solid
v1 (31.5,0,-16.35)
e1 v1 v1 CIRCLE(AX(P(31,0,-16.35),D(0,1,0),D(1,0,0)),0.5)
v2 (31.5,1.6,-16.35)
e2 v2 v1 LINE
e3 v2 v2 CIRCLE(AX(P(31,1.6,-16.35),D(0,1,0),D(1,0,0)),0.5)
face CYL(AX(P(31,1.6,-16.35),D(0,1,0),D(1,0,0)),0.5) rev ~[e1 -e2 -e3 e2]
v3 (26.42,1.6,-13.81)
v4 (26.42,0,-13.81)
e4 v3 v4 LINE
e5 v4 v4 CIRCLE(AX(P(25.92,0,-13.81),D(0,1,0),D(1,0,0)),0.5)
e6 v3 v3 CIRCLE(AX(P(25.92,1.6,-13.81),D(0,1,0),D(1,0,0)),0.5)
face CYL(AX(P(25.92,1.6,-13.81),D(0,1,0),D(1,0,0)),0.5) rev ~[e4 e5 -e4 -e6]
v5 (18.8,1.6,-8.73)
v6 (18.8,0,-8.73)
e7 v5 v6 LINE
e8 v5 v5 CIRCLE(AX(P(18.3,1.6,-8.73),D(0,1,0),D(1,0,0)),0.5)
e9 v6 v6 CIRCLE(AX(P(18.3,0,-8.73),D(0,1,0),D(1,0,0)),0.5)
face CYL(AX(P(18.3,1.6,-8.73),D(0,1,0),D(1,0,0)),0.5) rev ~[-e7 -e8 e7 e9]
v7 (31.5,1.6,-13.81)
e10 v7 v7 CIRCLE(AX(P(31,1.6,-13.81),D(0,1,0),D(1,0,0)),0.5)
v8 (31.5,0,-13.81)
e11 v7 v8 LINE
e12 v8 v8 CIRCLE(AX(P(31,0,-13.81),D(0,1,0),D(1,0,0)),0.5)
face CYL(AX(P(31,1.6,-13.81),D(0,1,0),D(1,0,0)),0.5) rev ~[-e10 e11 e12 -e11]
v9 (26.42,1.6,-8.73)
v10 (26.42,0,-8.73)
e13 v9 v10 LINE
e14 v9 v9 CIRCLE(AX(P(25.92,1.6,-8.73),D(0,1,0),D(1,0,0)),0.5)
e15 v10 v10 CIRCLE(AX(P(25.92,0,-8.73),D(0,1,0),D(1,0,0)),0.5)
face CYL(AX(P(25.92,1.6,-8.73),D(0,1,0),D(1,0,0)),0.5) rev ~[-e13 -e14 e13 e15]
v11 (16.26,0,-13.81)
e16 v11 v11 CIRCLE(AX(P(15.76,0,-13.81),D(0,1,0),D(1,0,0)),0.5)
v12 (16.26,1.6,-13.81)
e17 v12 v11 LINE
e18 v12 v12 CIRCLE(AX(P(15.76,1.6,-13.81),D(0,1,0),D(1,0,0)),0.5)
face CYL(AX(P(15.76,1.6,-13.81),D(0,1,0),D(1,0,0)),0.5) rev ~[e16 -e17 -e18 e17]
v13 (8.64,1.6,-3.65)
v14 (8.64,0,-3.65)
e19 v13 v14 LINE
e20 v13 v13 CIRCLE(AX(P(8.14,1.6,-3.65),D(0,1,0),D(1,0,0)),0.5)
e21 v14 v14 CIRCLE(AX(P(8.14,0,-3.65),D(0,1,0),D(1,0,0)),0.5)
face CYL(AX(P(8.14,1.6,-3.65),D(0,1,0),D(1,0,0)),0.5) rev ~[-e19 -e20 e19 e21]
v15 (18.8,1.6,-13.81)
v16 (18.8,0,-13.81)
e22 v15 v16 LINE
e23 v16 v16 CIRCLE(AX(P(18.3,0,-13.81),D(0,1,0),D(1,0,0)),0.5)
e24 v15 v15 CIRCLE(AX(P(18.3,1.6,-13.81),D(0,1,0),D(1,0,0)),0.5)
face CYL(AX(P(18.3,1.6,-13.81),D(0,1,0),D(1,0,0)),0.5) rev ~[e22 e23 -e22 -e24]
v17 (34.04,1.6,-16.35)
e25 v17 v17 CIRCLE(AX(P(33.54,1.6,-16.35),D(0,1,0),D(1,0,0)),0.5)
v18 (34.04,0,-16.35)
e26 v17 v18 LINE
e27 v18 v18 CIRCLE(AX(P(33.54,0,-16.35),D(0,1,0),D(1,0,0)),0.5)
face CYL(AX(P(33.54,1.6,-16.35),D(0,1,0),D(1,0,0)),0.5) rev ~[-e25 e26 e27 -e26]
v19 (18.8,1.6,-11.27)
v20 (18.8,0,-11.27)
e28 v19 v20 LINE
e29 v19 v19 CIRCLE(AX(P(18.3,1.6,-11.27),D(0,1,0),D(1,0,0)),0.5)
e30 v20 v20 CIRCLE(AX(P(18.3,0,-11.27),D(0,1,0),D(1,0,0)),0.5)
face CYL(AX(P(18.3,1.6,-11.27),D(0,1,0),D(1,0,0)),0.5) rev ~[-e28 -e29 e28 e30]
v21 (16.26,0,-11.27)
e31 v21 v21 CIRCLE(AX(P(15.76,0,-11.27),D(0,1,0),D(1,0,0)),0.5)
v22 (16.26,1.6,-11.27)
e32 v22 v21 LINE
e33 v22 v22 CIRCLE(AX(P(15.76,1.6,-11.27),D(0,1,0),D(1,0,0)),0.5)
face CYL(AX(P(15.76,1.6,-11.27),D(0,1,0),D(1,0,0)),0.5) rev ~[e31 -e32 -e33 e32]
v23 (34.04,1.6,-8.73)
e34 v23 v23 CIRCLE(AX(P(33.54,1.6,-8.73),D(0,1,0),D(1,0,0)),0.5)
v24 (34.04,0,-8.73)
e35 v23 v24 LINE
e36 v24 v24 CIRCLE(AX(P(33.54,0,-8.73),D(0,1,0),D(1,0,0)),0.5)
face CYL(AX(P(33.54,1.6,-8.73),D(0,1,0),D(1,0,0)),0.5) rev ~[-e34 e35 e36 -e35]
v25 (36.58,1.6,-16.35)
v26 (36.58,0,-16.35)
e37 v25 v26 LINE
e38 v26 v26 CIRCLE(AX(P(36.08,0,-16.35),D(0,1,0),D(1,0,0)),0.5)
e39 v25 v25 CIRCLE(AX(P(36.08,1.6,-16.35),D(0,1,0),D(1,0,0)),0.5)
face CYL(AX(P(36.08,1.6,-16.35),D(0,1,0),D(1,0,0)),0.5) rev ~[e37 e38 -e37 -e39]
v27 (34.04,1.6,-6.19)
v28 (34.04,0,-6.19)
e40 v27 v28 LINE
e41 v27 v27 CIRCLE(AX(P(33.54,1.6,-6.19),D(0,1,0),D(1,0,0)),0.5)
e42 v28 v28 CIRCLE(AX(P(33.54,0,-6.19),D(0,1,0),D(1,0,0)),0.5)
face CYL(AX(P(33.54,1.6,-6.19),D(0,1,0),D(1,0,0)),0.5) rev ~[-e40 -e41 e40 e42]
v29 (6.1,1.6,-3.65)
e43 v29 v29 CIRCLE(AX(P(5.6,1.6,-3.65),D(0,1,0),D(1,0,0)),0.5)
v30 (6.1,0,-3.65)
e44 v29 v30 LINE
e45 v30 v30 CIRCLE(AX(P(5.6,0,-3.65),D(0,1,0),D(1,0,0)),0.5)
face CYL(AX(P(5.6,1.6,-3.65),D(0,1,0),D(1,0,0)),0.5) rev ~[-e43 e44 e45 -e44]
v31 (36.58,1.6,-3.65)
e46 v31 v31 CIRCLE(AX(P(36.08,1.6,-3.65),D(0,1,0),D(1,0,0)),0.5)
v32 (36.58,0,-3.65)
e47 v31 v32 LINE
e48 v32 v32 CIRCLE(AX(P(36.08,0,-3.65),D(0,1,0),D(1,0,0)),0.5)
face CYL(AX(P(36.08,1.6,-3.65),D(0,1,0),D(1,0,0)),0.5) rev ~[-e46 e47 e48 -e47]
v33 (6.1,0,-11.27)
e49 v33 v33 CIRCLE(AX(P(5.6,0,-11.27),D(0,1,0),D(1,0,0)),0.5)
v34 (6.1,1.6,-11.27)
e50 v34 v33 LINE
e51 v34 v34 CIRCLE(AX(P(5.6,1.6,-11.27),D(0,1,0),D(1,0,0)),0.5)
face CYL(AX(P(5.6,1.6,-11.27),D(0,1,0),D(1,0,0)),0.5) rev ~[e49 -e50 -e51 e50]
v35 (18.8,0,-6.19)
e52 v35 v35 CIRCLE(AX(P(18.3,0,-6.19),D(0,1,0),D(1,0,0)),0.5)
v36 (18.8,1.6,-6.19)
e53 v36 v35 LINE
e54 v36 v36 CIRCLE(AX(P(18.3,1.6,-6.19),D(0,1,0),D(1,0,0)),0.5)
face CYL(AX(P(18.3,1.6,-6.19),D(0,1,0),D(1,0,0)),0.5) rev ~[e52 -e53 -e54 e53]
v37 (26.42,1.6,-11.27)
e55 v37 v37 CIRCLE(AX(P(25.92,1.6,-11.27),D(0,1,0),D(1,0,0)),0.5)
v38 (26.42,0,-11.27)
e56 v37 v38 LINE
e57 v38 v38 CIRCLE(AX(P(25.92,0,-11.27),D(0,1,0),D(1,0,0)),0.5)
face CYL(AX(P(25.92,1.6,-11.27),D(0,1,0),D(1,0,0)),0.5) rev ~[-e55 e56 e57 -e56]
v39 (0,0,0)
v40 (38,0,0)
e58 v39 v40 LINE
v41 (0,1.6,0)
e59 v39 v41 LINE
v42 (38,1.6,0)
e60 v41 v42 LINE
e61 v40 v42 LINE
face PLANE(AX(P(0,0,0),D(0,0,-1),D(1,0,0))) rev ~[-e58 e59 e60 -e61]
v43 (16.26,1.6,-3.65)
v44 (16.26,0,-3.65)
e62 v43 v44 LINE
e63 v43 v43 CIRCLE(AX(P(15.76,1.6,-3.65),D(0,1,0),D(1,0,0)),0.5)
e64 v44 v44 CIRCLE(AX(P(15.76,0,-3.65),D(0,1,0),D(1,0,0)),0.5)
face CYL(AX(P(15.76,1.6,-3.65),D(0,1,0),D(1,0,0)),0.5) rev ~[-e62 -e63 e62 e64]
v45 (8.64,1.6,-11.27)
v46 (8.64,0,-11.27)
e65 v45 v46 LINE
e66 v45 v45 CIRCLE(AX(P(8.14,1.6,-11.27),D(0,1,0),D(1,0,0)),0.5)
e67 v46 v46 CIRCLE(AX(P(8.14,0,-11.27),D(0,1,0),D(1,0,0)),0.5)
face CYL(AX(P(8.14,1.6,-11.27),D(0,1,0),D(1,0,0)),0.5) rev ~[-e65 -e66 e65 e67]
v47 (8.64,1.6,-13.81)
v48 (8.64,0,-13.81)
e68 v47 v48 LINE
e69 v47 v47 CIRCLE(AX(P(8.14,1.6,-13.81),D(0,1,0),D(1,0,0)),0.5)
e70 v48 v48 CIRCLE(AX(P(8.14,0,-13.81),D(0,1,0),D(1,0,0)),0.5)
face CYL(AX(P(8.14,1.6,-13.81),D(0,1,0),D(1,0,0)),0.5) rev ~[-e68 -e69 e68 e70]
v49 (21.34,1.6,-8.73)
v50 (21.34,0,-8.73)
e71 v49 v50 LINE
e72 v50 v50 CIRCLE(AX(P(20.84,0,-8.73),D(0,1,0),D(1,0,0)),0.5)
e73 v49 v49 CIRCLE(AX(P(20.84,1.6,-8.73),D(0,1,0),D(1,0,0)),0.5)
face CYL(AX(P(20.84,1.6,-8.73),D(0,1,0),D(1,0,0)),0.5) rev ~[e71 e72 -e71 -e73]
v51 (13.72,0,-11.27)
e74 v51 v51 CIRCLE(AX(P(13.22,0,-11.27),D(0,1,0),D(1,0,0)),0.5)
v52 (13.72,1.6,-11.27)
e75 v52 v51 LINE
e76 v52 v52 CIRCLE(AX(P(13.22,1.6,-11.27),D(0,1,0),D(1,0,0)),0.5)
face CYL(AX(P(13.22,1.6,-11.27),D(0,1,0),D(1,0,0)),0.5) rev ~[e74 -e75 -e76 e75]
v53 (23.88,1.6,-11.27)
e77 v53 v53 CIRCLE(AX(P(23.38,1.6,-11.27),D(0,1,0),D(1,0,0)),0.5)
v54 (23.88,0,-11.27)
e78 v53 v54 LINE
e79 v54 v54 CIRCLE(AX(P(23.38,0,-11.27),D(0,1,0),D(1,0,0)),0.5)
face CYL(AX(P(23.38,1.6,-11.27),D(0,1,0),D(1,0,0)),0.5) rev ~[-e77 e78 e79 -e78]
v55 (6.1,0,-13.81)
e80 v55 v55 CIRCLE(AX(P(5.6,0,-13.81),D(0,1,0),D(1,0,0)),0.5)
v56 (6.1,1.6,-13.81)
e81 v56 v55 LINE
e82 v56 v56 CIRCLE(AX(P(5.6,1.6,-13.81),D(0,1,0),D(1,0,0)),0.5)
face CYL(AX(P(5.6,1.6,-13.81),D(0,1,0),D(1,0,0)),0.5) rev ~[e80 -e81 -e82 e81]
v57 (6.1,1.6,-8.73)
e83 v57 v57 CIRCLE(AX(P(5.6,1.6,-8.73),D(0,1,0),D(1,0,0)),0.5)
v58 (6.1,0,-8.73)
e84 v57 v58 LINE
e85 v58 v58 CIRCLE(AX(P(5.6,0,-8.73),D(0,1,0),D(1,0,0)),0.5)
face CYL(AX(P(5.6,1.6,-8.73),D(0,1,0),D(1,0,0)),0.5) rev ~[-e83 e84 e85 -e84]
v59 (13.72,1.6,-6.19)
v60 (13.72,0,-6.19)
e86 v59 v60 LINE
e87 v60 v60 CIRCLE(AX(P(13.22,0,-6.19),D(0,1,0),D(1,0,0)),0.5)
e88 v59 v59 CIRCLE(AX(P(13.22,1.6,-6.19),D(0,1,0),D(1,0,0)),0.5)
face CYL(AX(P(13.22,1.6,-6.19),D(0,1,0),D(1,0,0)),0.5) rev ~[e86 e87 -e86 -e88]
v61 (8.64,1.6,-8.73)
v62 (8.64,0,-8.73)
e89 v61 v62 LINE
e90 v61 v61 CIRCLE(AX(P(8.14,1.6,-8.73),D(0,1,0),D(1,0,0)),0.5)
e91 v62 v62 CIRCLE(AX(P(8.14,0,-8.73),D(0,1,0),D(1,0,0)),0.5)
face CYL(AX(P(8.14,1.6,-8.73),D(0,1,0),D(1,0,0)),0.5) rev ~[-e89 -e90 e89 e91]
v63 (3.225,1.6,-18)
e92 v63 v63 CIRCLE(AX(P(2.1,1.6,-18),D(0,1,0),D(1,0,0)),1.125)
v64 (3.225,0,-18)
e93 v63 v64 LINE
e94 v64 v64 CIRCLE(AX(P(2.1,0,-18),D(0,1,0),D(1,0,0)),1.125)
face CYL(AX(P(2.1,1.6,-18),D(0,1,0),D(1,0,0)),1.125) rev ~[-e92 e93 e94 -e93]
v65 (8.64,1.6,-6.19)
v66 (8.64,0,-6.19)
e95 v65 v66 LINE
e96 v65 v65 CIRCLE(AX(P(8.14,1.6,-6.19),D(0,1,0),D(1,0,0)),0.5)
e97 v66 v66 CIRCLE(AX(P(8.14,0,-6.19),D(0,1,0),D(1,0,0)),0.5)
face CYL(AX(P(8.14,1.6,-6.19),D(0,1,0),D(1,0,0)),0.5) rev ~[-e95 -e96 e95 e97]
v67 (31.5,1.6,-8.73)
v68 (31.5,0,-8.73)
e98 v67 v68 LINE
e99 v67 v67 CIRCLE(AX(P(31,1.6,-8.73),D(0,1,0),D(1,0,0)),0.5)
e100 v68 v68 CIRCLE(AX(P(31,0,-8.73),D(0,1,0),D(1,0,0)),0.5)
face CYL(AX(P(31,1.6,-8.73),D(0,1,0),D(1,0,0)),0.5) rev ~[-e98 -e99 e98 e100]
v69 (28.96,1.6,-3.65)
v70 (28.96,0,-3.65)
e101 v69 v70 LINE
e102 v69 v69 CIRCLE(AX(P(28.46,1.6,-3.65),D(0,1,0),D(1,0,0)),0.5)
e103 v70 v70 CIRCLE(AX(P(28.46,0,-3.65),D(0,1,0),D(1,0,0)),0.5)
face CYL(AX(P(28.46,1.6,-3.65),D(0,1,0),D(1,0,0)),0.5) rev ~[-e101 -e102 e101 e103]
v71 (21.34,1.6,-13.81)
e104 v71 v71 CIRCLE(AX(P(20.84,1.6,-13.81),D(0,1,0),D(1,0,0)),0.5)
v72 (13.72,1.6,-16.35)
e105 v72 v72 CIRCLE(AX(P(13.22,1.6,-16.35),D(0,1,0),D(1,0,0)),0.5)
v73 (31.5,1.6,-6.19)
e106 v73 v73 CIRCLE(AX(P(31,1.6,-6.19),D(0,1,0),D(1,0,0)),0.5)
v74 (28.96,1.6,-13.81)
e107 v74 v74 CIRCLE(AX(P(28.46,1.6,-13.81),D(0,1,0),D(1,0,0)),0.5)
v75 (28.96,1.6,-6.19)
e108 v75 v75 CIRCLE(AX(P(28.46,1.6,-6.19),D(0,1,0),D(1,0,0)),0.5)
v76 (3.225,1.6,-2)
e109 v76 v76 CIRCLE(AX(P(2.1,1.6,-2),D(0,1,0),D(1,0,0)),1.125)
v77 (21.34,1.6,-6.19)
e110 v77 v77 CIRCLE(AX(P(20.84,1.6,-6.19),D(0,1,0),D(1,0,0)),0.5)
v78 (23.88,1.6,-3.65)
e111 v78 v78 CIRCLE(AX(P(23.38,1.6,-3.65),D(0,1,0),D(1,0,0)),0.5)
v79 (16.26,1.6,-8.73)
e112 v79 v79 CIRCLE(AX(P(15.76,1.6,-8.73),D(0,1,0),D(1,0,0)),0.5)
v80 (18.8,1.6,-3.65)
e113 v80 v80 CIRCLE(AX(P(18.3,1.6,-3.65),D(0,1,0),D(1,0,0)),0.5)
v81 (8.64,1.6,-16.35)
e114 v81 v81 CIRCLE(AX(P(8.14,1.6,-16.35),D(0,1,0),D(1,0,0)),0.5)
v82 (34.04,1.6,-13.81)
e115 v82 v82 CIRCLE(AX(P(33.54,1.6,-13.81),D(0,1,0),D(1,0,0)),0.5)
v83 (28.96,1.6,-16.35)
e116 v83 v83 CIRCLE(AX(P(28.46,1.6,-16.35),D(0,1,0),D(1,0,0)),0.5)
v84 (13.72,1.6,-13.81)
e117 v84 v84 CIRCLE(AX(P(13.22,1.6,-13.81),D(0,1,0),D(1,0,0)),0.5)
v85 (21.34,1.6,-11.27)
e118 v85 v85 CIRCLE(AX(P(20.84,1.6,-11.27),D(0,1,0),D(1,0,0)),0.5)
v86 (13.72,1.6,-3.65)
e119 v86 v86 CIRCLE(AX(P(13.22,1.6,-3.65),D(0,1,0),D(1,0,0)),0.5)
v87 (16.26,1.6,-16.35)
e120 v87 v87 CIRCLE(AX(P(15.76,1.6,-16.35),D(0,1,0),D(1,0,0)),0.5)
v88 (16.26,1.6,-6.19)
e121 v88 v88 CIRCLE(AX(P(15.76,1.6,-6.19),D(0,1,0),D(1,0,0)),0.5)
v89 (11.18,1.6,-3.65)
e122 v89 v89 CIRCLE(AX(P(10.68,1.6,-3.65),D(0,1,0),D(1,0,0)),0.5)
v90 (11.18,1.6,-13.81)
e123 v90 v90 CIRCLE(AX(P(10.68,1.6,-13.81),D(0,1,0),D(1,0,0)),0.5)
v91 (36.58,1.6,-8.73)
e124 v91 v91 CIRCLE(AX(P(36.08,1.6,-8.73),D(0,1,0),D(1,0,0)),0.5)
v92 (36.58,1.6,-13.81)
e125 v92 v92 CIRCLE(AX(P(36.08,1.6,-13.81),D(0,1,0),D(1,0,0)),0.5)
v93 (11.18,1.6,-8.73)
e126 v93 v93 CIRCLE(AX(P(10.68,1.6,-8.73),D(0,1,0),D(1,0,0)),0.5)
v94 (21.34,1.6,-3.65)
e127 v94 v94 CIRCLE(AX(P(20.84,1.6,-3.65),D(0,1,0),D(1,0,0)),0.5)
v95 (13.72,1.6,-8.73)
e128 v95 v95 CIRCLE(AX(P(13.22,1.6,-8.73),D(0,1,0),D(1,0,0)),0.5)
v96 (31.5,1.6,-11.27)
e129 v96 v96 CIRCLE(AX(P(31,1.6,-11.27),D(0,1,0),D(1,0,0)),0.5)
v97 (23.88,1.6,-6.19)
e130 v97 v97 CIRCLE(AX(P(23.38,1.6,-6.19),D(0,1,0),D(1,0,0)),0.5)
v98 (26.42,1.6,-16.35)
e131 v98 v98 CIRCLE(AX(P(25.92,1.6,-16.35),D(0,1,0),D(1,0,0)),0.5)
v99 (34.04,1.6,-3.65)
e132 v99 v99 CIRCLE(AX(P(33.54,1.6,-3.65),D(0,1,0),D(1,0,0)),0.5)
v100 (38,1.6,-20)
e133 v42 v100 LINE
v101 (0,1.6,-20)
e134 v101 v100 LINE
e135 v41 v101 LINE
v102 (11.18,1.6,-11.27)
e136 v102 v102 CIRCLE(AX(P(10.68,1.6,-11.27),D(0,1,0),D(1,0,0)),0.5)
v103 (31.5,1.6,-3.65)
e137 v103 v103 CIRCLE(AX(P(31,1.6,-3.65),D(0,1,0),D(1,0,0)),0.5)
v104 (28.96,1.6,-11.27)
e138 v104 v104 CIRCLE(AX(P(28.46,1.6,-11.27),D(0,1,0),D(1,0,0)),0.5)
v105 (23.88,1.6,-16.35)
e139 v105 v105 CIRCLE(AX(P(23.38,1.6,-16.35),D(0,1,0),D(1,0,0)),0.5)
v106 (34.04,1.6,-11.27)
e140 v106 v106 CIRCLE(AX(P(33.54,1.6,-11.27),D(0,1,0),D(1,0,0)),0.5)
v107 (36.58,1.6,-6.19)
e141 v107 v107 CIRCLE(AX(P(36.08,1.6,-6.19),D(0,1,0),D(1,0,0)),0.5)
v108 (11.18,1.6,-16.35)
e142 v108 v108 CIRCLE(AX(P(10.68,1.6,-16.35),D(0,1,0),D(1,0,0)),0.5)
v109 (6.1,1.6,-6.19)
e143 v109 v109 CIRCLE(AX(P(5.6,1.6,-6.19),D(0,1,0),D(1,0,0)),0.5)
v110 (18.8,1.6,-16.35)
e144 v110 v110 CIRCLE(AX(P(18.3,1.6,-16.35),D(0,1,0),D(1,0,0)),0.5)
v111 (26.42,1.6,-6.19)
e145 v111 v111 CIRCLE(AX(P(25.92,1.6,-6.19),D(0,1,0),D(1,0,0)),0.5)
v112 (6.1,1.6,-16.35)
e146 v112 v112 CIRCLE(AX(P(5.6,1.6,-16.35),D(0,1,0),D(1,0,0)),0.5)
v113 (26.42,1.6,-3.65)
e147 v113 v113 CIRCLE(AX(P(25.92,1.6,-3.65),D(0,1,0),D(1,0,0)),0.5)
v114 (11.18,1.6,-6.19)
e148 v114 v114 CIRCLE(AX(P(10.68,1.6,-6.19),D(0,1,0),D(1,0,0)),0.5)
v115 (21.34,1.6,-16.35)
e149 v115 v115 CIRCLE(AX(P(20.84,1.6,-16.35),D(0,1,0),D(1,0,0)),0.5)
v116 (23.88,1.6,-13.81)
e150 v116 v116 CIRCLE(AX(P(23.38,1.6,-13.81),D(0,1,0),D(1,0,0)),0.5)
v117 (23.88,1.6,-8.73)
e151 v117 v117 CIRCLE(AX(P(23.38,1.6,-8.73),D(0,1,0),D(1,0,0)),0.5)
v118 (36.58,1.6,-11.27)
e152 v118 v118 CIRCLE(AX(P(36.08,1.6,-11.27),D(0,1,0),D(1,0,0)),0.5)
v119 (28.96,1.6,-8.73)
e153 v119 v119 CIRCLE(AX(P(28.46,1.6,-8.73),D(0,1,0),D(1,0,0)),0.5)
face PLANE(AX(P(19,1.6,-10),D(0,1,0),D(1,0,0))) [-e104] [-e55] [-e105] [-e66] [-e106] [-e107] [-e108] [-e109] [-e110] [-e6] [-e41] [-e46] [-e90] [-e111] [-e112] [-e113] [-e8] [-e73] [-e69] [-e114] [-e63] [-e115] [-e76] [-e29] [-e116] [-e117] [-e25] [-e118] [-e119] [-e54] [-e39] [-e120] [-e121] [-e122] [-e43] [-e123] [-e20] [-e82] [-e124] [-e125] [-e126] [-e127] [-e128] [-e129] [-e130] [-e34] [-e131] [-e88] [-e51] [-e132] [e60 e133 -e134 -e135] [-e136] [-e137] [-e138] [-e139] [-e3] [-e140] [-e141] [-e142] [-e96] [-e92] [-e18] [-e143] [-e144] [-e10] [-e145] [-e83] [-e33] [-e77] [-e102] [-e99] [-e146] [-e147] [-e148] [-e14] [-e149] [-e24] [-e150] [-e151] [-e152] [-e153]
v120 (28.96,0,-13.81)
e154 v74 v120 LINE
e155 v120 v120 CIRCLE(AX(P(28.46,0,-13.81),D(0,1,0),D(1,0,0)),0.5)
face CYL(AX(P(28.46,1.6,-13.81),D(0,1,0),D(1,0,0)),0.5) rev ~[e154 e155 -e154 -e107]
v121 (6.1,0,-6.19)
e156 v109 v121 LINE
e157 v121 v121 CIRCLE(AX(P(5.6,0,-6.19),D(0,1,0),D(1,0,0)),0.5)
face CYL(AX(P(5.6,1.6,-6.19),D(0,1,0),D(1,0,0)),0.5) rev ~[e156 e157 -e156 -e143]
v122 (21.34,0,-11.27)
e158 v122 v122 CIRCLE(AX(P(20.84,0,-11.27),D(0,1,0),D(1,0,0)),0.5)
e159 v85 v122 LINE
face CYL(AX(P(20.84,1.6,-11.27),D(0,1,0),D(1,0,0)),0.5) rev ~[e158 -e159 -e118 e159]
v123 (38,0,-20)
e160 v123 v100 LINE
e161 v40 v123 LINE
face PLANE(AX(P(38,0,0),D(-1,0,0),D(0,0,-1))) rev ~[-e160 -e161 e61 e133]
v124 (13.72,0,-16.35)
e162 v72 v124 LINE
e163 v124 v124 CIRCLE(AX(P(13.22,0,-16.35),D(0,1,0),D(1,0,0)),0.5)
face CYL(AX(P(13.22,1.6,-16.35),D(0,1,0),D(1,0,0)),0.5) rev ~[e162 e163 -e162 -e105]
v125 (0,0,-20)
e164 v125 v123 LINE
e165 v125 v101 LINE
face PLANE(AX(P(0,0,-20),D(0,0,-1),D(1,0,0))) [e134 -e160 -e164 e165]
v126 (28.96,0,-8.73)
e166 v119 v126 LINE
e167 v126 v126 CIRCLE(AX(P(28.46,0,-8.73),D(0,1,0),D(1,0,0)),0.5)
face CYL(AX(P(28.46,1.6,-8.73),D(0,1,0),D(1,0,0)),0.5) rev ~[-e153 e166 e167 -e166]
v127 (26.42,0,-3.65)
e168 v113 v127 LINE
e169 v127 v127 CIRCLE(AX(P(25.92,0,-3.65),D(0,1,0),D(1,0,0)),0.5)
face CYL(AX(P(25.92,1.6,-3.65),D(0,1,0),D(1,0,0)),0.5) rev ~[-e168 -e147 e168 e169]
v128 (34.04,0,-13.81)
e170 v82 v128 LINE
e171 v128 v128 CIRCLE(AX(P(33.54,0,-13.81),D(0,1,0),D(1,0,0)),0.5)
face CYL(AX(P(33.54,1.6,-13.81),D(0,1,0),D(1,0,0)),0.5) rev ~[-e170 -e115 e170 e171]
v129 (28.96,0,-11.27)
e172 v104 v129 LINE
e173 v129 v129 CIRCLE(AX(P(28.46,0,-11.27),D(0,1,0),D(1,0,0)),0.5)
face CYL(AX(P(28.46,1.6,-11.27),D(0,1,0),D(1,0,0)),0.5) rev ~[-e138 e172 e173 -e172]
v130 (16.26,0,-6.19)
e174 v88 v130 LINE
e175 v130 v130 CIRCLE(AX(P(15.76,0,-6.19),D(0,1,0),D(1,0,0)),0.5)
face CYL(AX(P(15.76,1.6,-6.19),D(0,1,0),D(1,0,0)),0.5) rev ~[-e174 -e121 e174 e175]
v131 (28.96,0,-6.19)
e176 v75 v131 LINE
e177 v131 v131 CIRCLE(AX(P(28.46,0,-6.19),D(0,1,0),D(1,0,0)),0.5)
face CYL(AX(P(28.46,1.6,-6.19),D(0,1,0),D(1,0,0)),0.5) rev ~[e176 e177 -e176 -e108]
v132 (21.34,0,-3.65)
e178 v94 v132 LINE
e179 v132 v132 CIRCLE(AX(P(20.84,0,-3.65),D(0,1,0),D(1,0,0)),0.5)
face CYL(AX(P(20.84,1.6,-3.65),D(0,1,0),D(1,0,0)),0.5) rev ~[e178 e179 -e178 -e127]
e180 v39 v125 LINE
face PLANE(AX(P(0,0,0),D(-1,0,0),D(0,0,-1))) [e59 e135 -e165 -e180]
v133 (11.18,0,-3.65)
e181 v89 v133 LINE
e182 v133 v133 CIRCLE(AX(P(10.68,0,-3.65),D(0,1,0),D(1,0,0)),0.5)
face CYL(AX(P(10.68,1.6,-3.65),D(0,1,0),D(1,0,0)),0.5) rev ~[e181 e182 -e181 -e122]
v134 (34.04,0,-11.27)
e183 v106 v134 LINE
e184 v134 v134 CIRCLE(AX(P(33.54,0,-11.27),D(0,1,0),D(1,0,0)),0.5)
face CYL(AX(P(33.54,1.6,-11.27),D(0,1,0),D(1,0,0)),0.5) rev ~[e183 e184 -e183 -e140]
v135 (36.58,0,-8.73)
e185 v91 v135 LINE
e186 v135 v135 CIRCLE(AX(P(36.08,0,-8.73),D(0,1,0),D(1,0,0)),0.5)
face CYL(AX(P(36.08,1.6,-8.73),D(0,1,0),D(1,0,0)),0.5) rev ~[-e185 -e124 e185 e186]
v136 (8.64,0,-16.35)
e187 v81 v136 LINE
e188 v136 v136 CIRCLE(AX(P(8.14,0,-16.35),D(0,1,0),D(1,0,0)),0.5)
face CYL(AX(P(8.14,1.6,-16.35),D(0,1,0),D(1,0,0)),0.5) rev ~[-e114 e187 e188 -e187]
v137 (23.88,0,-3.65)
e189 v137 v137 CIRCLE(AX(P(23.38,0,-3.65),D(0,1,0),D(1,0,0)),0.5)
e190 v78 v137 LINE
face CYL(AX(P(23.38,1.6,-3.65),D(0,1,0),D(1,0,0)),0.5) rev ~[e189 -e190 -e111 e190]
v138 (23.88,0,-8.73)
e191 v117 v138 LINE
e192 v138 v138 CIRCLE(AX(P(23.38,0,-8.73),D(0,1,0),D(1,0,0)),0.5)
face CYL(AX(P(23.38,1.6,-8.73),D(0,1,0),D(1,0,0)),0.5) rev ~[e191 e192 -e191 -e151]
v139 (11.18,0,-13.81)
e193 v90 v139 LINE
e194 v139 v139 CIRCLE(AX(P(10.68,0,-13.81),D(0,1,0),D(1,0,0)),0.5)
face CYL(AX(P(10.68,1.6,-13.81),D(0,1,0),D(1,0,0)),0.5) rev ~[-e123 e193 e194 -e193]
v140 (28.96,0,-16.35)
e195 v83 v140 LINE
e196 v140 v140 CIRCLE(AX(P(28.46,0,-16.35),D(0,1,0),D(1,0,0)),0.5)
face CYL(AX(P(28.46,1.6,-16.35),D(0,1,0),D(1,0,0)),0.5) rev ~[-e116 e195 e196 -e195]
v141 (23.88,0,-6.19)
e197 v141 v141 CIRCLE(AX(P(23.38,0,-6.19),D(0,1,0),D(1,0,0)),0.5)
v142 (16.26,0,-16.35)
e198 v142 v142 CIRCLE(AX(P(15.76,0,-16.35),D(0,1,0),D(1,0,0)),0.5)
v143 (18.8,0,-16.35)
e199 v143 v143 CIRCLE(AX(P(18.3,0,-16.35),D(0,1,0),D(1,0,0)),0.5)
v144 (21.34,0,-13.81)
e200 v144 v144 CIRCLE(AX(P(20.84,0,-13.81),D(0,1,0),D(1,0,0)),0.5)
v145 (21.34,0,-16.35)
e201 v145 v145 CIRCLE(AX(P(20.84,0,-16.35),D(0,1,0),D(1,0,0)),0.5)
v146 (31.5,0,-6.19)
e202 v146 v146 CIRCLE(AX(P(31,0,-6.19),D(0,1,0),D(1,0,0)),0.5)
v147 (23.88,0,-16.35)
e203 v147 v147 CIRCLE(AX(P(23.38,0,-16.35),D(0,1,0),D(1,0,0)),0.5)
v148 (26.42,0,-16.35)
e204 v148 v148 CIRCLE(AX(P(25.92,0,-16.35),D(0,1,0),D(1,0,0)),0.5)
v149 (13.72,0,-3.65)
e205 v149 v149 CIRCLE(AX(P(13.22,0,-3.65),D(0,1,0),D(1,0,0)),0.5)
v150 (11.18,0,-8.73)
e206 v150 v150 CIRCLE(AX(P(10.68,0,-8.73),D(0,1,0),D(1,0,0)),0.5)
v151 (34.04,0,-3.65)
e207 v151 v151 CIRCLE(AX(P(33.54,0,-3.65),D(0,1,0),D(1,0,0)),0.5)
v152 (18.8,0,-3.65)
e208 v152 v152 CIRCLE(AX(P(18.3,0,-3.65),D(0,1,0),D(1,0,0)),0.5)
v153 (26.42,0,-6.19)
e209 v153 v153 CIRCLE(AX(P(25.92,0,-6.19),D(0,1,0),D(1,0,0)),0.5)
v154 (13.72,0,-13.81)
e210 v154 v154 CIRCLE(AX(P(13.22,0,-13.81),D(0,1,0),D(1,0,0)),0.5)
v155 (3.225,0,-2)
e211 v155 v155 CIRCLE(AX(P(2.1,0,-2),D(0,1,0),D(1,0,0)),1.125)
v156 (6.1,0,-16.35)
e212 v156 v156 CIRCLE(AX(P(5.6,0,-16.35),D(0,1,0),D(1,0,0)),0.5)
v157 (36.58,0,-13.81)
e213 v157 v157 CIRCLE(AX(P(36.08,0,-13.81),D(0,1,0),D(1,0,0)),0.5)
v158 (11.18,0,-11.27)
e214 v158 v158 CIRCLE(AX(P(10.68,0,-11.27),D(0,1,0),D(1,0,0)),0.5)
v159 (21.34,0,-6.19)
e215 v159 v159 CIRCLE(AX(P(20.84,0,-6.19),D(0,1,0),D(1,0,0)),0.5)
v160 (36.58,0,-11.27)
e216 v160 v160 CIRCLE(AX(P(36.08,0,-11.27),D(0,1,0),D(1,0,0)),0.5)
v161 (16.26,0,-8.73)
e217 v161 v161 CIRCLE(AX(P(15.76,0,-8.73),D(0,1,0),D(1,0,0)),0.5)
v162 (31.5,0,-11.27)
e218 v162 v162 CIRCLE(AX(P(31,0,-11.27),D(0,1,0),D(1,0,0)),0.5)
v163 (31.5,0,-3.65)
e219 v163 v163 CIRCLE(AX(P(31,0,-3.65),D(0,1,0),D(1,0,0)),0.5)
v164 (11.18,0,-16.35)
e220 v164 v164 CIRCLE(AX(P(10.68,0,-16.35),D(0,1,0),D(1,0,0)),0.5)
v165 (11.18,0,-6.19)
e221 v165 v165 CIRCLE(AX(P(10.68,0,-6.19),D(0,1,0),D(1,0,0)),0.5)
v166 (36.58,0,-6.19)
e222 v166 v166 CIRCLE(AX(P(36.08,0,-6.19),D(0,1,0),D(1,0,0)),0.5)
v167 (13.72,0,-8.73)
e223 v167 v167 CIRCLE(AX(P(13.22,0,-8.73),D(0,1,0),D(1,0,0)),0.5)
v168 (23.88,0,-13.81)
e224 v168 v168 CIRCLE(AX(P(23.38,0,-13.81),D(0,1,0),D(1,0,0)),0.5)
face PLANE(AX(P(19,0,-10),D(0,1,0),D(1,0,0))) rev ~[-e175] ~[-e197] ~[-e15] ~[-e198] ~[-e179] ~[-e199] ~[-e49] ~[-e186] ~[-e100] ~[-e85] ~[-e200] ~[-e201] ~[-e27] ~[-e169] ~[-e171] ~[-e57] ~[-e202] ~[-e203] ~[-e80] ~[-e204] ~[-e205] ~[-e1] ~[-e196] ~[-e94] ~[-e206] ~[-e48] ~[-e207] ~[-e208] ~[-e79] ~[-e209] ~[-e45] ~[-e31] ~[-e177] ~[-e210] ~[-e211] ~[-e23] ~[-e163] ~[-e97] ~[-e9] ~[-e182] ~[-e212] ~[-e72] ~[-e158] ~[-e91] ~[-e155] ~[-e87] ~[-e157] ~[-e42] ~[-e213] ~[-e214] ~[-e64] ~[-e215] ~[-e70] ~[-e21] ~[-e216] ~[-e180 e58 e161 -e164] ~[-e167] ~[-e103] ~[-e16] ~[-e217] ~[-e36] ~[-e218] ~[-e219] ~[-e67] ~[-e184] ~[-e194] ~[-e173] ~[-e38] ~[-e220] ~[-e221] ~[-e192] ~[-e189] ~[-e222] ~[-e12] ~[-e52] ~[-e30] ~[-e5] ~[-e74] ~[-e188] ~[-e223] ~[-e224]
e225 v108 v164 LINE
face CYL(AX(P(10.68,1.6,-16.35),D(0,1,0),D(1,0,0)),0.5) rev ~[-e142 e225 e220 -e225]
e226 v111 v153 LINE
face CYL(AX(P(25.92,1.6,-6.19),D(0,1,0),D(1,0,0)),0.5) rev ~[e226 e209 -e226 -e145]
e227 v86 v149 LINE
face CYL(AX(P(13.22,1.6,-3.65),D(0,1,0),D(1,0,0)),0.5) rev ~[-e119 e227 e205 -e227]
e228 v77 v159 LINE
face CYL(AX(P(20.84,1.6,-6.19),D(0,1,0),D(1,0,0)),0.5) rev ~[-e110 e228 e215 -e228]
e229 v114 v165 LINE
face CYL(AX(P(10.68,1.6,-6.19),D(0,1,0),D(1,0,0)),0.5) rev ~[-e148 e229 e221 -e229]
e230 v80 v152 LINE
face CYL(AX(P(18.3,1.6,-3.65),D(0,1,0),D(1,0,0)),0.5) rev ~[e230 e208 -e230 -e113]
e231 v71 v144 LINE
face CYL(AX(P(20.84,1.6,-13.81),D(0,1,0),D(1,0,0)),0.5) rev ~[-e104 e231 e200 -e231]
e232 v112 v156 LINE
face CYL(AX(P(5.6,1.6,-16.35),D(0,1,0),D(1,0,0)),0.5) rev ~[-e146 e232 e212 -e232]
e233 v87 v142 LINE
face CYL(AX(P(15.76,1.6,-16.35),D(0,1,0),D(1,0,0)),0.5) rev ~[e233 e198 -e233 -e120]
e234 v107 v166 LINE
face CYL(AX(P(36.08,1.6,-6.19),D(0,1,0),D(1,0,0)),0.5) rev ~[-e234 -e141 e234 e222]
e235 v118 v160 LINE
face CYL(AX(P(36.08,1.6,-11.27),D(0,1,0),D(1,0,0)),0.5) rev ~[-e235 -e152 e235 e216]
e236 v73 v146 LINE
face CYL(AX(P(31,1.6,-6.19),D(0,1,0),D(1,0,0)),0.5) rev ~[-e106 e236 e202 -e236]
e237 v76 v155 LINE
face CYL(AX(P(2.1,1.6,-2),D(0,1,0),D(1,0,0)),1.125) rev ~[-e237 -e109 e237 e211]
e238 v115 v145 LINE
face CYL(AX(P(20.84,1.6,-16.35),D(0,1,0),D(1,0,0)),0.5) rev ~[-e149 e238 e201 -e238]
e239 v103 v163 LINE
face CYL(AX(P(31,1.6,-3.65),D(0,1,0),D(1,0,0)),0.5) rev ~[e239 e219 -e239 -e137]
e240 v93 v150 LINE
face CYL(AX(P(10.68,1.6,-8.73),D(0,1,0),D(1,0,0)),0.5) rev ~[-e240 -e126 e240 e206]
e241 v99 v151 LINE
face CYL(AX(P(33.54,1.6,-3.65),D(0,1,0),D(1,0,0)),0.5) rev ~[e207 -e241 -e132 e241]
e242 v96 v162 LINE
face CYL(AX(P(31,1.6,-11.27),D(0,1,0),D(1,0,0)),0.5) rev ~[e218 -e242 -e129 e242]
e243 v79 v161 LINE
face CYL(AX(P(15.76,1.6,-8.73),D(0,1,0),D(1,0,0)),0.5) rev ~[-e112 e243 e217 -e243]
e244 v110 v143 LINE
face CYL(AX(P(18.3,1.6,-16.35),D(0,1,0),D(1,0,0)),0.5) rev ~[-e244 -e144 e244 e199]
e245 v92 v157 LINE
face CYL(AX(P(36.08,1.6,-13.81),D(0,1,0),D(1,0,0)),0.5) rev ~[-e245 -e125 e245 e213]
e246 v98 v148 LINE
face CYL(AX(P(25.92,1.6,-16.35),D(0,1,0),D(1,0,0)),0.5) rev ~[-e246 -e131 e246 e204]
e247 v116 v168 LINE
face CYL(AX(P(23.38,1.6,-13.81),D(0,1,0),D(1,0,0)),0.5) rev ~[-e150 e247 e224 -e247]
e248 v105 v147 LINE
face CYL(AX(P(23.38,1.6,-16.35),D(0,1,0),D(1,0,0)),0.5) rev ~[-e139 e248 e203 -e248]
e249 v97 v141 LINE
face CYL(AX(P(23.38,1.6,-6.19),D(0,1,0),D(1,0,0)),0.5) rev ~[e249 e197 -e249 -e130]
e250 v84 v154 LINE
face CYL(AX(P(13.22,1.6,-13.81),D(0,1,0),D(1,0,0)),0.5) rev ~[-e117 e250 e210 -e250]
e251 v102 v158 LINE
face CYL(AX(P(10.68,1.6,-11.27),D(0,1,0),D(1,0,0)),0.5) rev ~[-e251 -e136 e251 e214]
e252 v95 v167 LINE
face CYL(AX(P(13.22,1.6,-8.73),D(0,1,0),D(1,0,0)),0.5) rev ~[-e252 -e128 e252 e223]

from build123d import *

# Parameters (mm, degrees)
SKETCH1_W           = 38
SKETCH1_H           = 20
BOSS_EXTRUDE1_DEPTH = 1.6
SKETCH2_R           = 1.125
CUT_EXTRUDE1_DEPTH  = 2.6
SKETCH3_R           = 0.5
CUT_EXTRUDE2_DEPTH  = 2.6


with BuildPart() as part:
    # Sketch1 → Boss-Extrude1 (new body)
    with BuildSketch(Plane(origin=(0, 0, 0), x_dir=(1, 0, 0), z_dir=(0, 1, 0))):
        with Locations((19, 10)):
            Rectangle(SKETCH1_W, SKETCH1_H)
    extrude(amount=BOSS_EXTRUDE1_DEPTH)

    # Sketch2 → Cut-Extrude1 (cut, through all)
    with BuildSketch(Plane(origin=(0, 1.6, 0), x_dir=(1, 0, 0), z_dir=(0, 1, 0))):
        with Locations((2.1, 18)):
            Circle(SKETCH2_R)
        with Locations((2.1, 2)):
            Circle(SKETCH2_R)
    extrude(amount=-CUT_EXTRUDE1_DEPTH, mode=Mode.SUBTRACT)

    # Sketch3 → Cut-Extrude2 (cut, through all)
    with BuildSketch(Plane(origin=(0, 1.6, 0), x_dir=(1, 0, 0), z_dir=(0, 1, 0))):
        with Locations((5.6, 16.35)):
            Circle(SKETCH3_R)
        with Locations((8.14, 16.35)):
            Circle(SKETCH3_R)
        with Locations((10.68, 16.35)):
            Circle(SKETCH3_R)
        with Locations((13.22, 16.35)):
            Circle(SKETCH3_R)
        with Locations((15.76, 16.35)):
            Circle(SKETCH3_R)
        with Locations((18.3, 16.35)):
            Circle(SKETCH3_R)
        with Locations((20.84, 16.35)):
            Circle(SKETCH3_R)
        with Locations((23.38, 16.35)):
            Circle(SKETCH3_R)
        with Locations((25.92, 16.35)):
            Circle(SKETCH3_R)
        with Locations((28.46, 16.35)):
            Circle(SKETCH3_R)
        with Locations((31, 16.35)):
            Circle(SKETCH3_R)
        with Locations((33.54, 16.35)):
            Circle(SKETCH3_R)
        with Locations((36.08, 16.35)):
            Circle(SKETCH3_R)
        with Locations((8.14, 13.81)):
            Circle(SKETCH3_R)
        with Locations((10.68, 13.81)):
            Circle(SKETCH3_R)
        with Locations((13.22, 13.81)):
            Circle(SKETCH3_R)
        with Locations((15.76, 13.81)):
            Circle(SKETCH3_R)
        with Locations((18.3, 13.81)):
            Circle(SKETCH3_R)
        with Locations((20.84, 13.81)):
            Circle(SKETCH3_R)
        with Locations((23.38, 13.81)):
            Circle(SKETCH3_R)
        with Locations((25.92, 13.81)):
            Circle(SKETCH3_R)
        with Locations((28.46, 13.81)):
            Circle(SKETCH3_R)
        with Locations((31, 13.81)):
            Circle(SKETCH3_R)
        with Locations((33.54, 13.81)):
            Circle(SKETCH3_R)
        with Locations((36.08, 13.81)):
            Circle(SKETCH3_R)
        with Locations((8.14, 11.27)):
            Circle(SKETCH3_R)
        with Locations((10.68, 11.27)):
            Circle(SKETCH3_R)
        with Locations((13.22, 11.27)):
            Circle(SKETCH3_R)
        with Locations((15.76, 11.27)):
            Circle(SKETCH3_R)
        with Locations((18.3, 11.27)):
            Circle(SKETCH3_R)
        with Locations((20.84, 11.27)):
            Circle(SKETCH3_R)
        with Locations((23.38, 11.27)):
            Circle(SKETCH3_R)
        with Locations((25.92, 11.27)):
            Circle(SKETCH3_R)
        with Locations((28.46, 11.27)):
            Circle(SKETCH3_R)
        with Locations((31, 11.27)):
            Circle(SKETCH3_R)
        with Locations((33.54, 11.27)):
            Circle(SKETCH3_R)
        with Locations((36.08, 11.27)):
            Circle(SKETCH3_R)
        with Locations((8.14, 8.73)):
            Circle(SKETCH3_R)
        with Locations((10.68, 8.73)):
            Circle(SKETCH3_R)
        with Locations((13.22, 8.73)):
            Circle(SKETCH3_R)
        with Locations((15.76, 8.73)):
            Circle(SKETCH3_R)
        with Locations((18.3, 8.73)):
            Circle(SKETCH3_R)
        with Locations((20.84, 8.73)):
            Circle(SKETCH3_R)
        with Locations((23.38, 8.73)):
            Circle(SKETCH3_R)
        with Locations((25.92, 8.73)):
            Circle(SKETCH3_R)
        with Locations((28.46, 8.73)):
            Circle(SKETCH3_R)
        with Locations((31, 8.73)):
            Circle(SKETCH3_R)
        with Locations((33.54, 8.73)):
            Circle(SKETCH3_R)
        with Locations((36.08, 8.73)):
            Circle(SKETCH3_R)
        with Locations((8.14, 6.19)):
            Circle(SKETCH3_R)
        with Locations((10.68, 6.19)):
            Circle(SKETCH3_R)
        with Locations((13.22, 6.19)):
            Circle(SKETCH3_R)
        with Locations((15.76, 6.19)):
            Circle(SKETCH3_R)
        with Locations((18.3, 6.19)):
            Circle(SKETCH3_R)
        with Locations((20.84, 6.19)):
            Circle(SKETCH3_R)
        with Locations((23.38, 6.19)):
            Circle(SKETCH3_R)
        with Locations((25.92, 6.19)):
            Circle(SKETCH3_R)
        with Locations((28.46, 6.19)):
            Circle(SKETCH3_R)
        with Locations((31, 6.19)):
            Circle(SKETCH3_R)
        with Locations((33.54, 6.19)):
            Circle(SKETCH3_R)
        with Locations((36.08, 6.19)):
            Circle(SKETCH3_R)
        with Locations((8.14, 3.65)):
            Circle(SKETCH3_R)
        with Locations((10.68, 3.65)):
            Circle(SKETCH3_R)
        with Locations((13.22, 3.65)):
            Circle(SKETCH3_R)
        with Locations((15.76, 3.65)):
            Circle(SKETCH3_R)
        with Locations((18.3, 3.65)):
            Circle(SKETCH3_R)
        with Locations((20.84, 3.65)):
            Circle(SKETCH3_R)
        with Locations((23.38, 3.65)):
            Circle(SKETCH3_R)
        with Locations((25.92, 3.65)):
            Circle(SKETCH3_R)
        with Locations((28.46, 3.65)):
            Circle(SKETCH3_R)
        with Locations((31, 3.65)):
            Circle(SKETCH3_R)
        with Locations((33.54, 3.65)):
            Circle(SKETCH3_R)
        with Locations((36.08, 3.65)):
            Circle(SKETCH3_R)
        with Locations((5.6, 13.81)):
            Circle(SKETCH3_R)
        with Locations((5.6, 11.27)):
            Circle(SKETCH3_R)
        with Locations((5.6, 8.73)):
            Circle(SKETCH3_R)
        with Locations((5.6, 6.19)):
            Circle(SKETCH3_R)
        with Locations((5.6, 3.65)):
            Circle(SKETCH3_R)
    extrude(amount=-CUT_EXTRUDE2_DEPTH, mode=Mode.SUBTRACT)


solid = part.part
